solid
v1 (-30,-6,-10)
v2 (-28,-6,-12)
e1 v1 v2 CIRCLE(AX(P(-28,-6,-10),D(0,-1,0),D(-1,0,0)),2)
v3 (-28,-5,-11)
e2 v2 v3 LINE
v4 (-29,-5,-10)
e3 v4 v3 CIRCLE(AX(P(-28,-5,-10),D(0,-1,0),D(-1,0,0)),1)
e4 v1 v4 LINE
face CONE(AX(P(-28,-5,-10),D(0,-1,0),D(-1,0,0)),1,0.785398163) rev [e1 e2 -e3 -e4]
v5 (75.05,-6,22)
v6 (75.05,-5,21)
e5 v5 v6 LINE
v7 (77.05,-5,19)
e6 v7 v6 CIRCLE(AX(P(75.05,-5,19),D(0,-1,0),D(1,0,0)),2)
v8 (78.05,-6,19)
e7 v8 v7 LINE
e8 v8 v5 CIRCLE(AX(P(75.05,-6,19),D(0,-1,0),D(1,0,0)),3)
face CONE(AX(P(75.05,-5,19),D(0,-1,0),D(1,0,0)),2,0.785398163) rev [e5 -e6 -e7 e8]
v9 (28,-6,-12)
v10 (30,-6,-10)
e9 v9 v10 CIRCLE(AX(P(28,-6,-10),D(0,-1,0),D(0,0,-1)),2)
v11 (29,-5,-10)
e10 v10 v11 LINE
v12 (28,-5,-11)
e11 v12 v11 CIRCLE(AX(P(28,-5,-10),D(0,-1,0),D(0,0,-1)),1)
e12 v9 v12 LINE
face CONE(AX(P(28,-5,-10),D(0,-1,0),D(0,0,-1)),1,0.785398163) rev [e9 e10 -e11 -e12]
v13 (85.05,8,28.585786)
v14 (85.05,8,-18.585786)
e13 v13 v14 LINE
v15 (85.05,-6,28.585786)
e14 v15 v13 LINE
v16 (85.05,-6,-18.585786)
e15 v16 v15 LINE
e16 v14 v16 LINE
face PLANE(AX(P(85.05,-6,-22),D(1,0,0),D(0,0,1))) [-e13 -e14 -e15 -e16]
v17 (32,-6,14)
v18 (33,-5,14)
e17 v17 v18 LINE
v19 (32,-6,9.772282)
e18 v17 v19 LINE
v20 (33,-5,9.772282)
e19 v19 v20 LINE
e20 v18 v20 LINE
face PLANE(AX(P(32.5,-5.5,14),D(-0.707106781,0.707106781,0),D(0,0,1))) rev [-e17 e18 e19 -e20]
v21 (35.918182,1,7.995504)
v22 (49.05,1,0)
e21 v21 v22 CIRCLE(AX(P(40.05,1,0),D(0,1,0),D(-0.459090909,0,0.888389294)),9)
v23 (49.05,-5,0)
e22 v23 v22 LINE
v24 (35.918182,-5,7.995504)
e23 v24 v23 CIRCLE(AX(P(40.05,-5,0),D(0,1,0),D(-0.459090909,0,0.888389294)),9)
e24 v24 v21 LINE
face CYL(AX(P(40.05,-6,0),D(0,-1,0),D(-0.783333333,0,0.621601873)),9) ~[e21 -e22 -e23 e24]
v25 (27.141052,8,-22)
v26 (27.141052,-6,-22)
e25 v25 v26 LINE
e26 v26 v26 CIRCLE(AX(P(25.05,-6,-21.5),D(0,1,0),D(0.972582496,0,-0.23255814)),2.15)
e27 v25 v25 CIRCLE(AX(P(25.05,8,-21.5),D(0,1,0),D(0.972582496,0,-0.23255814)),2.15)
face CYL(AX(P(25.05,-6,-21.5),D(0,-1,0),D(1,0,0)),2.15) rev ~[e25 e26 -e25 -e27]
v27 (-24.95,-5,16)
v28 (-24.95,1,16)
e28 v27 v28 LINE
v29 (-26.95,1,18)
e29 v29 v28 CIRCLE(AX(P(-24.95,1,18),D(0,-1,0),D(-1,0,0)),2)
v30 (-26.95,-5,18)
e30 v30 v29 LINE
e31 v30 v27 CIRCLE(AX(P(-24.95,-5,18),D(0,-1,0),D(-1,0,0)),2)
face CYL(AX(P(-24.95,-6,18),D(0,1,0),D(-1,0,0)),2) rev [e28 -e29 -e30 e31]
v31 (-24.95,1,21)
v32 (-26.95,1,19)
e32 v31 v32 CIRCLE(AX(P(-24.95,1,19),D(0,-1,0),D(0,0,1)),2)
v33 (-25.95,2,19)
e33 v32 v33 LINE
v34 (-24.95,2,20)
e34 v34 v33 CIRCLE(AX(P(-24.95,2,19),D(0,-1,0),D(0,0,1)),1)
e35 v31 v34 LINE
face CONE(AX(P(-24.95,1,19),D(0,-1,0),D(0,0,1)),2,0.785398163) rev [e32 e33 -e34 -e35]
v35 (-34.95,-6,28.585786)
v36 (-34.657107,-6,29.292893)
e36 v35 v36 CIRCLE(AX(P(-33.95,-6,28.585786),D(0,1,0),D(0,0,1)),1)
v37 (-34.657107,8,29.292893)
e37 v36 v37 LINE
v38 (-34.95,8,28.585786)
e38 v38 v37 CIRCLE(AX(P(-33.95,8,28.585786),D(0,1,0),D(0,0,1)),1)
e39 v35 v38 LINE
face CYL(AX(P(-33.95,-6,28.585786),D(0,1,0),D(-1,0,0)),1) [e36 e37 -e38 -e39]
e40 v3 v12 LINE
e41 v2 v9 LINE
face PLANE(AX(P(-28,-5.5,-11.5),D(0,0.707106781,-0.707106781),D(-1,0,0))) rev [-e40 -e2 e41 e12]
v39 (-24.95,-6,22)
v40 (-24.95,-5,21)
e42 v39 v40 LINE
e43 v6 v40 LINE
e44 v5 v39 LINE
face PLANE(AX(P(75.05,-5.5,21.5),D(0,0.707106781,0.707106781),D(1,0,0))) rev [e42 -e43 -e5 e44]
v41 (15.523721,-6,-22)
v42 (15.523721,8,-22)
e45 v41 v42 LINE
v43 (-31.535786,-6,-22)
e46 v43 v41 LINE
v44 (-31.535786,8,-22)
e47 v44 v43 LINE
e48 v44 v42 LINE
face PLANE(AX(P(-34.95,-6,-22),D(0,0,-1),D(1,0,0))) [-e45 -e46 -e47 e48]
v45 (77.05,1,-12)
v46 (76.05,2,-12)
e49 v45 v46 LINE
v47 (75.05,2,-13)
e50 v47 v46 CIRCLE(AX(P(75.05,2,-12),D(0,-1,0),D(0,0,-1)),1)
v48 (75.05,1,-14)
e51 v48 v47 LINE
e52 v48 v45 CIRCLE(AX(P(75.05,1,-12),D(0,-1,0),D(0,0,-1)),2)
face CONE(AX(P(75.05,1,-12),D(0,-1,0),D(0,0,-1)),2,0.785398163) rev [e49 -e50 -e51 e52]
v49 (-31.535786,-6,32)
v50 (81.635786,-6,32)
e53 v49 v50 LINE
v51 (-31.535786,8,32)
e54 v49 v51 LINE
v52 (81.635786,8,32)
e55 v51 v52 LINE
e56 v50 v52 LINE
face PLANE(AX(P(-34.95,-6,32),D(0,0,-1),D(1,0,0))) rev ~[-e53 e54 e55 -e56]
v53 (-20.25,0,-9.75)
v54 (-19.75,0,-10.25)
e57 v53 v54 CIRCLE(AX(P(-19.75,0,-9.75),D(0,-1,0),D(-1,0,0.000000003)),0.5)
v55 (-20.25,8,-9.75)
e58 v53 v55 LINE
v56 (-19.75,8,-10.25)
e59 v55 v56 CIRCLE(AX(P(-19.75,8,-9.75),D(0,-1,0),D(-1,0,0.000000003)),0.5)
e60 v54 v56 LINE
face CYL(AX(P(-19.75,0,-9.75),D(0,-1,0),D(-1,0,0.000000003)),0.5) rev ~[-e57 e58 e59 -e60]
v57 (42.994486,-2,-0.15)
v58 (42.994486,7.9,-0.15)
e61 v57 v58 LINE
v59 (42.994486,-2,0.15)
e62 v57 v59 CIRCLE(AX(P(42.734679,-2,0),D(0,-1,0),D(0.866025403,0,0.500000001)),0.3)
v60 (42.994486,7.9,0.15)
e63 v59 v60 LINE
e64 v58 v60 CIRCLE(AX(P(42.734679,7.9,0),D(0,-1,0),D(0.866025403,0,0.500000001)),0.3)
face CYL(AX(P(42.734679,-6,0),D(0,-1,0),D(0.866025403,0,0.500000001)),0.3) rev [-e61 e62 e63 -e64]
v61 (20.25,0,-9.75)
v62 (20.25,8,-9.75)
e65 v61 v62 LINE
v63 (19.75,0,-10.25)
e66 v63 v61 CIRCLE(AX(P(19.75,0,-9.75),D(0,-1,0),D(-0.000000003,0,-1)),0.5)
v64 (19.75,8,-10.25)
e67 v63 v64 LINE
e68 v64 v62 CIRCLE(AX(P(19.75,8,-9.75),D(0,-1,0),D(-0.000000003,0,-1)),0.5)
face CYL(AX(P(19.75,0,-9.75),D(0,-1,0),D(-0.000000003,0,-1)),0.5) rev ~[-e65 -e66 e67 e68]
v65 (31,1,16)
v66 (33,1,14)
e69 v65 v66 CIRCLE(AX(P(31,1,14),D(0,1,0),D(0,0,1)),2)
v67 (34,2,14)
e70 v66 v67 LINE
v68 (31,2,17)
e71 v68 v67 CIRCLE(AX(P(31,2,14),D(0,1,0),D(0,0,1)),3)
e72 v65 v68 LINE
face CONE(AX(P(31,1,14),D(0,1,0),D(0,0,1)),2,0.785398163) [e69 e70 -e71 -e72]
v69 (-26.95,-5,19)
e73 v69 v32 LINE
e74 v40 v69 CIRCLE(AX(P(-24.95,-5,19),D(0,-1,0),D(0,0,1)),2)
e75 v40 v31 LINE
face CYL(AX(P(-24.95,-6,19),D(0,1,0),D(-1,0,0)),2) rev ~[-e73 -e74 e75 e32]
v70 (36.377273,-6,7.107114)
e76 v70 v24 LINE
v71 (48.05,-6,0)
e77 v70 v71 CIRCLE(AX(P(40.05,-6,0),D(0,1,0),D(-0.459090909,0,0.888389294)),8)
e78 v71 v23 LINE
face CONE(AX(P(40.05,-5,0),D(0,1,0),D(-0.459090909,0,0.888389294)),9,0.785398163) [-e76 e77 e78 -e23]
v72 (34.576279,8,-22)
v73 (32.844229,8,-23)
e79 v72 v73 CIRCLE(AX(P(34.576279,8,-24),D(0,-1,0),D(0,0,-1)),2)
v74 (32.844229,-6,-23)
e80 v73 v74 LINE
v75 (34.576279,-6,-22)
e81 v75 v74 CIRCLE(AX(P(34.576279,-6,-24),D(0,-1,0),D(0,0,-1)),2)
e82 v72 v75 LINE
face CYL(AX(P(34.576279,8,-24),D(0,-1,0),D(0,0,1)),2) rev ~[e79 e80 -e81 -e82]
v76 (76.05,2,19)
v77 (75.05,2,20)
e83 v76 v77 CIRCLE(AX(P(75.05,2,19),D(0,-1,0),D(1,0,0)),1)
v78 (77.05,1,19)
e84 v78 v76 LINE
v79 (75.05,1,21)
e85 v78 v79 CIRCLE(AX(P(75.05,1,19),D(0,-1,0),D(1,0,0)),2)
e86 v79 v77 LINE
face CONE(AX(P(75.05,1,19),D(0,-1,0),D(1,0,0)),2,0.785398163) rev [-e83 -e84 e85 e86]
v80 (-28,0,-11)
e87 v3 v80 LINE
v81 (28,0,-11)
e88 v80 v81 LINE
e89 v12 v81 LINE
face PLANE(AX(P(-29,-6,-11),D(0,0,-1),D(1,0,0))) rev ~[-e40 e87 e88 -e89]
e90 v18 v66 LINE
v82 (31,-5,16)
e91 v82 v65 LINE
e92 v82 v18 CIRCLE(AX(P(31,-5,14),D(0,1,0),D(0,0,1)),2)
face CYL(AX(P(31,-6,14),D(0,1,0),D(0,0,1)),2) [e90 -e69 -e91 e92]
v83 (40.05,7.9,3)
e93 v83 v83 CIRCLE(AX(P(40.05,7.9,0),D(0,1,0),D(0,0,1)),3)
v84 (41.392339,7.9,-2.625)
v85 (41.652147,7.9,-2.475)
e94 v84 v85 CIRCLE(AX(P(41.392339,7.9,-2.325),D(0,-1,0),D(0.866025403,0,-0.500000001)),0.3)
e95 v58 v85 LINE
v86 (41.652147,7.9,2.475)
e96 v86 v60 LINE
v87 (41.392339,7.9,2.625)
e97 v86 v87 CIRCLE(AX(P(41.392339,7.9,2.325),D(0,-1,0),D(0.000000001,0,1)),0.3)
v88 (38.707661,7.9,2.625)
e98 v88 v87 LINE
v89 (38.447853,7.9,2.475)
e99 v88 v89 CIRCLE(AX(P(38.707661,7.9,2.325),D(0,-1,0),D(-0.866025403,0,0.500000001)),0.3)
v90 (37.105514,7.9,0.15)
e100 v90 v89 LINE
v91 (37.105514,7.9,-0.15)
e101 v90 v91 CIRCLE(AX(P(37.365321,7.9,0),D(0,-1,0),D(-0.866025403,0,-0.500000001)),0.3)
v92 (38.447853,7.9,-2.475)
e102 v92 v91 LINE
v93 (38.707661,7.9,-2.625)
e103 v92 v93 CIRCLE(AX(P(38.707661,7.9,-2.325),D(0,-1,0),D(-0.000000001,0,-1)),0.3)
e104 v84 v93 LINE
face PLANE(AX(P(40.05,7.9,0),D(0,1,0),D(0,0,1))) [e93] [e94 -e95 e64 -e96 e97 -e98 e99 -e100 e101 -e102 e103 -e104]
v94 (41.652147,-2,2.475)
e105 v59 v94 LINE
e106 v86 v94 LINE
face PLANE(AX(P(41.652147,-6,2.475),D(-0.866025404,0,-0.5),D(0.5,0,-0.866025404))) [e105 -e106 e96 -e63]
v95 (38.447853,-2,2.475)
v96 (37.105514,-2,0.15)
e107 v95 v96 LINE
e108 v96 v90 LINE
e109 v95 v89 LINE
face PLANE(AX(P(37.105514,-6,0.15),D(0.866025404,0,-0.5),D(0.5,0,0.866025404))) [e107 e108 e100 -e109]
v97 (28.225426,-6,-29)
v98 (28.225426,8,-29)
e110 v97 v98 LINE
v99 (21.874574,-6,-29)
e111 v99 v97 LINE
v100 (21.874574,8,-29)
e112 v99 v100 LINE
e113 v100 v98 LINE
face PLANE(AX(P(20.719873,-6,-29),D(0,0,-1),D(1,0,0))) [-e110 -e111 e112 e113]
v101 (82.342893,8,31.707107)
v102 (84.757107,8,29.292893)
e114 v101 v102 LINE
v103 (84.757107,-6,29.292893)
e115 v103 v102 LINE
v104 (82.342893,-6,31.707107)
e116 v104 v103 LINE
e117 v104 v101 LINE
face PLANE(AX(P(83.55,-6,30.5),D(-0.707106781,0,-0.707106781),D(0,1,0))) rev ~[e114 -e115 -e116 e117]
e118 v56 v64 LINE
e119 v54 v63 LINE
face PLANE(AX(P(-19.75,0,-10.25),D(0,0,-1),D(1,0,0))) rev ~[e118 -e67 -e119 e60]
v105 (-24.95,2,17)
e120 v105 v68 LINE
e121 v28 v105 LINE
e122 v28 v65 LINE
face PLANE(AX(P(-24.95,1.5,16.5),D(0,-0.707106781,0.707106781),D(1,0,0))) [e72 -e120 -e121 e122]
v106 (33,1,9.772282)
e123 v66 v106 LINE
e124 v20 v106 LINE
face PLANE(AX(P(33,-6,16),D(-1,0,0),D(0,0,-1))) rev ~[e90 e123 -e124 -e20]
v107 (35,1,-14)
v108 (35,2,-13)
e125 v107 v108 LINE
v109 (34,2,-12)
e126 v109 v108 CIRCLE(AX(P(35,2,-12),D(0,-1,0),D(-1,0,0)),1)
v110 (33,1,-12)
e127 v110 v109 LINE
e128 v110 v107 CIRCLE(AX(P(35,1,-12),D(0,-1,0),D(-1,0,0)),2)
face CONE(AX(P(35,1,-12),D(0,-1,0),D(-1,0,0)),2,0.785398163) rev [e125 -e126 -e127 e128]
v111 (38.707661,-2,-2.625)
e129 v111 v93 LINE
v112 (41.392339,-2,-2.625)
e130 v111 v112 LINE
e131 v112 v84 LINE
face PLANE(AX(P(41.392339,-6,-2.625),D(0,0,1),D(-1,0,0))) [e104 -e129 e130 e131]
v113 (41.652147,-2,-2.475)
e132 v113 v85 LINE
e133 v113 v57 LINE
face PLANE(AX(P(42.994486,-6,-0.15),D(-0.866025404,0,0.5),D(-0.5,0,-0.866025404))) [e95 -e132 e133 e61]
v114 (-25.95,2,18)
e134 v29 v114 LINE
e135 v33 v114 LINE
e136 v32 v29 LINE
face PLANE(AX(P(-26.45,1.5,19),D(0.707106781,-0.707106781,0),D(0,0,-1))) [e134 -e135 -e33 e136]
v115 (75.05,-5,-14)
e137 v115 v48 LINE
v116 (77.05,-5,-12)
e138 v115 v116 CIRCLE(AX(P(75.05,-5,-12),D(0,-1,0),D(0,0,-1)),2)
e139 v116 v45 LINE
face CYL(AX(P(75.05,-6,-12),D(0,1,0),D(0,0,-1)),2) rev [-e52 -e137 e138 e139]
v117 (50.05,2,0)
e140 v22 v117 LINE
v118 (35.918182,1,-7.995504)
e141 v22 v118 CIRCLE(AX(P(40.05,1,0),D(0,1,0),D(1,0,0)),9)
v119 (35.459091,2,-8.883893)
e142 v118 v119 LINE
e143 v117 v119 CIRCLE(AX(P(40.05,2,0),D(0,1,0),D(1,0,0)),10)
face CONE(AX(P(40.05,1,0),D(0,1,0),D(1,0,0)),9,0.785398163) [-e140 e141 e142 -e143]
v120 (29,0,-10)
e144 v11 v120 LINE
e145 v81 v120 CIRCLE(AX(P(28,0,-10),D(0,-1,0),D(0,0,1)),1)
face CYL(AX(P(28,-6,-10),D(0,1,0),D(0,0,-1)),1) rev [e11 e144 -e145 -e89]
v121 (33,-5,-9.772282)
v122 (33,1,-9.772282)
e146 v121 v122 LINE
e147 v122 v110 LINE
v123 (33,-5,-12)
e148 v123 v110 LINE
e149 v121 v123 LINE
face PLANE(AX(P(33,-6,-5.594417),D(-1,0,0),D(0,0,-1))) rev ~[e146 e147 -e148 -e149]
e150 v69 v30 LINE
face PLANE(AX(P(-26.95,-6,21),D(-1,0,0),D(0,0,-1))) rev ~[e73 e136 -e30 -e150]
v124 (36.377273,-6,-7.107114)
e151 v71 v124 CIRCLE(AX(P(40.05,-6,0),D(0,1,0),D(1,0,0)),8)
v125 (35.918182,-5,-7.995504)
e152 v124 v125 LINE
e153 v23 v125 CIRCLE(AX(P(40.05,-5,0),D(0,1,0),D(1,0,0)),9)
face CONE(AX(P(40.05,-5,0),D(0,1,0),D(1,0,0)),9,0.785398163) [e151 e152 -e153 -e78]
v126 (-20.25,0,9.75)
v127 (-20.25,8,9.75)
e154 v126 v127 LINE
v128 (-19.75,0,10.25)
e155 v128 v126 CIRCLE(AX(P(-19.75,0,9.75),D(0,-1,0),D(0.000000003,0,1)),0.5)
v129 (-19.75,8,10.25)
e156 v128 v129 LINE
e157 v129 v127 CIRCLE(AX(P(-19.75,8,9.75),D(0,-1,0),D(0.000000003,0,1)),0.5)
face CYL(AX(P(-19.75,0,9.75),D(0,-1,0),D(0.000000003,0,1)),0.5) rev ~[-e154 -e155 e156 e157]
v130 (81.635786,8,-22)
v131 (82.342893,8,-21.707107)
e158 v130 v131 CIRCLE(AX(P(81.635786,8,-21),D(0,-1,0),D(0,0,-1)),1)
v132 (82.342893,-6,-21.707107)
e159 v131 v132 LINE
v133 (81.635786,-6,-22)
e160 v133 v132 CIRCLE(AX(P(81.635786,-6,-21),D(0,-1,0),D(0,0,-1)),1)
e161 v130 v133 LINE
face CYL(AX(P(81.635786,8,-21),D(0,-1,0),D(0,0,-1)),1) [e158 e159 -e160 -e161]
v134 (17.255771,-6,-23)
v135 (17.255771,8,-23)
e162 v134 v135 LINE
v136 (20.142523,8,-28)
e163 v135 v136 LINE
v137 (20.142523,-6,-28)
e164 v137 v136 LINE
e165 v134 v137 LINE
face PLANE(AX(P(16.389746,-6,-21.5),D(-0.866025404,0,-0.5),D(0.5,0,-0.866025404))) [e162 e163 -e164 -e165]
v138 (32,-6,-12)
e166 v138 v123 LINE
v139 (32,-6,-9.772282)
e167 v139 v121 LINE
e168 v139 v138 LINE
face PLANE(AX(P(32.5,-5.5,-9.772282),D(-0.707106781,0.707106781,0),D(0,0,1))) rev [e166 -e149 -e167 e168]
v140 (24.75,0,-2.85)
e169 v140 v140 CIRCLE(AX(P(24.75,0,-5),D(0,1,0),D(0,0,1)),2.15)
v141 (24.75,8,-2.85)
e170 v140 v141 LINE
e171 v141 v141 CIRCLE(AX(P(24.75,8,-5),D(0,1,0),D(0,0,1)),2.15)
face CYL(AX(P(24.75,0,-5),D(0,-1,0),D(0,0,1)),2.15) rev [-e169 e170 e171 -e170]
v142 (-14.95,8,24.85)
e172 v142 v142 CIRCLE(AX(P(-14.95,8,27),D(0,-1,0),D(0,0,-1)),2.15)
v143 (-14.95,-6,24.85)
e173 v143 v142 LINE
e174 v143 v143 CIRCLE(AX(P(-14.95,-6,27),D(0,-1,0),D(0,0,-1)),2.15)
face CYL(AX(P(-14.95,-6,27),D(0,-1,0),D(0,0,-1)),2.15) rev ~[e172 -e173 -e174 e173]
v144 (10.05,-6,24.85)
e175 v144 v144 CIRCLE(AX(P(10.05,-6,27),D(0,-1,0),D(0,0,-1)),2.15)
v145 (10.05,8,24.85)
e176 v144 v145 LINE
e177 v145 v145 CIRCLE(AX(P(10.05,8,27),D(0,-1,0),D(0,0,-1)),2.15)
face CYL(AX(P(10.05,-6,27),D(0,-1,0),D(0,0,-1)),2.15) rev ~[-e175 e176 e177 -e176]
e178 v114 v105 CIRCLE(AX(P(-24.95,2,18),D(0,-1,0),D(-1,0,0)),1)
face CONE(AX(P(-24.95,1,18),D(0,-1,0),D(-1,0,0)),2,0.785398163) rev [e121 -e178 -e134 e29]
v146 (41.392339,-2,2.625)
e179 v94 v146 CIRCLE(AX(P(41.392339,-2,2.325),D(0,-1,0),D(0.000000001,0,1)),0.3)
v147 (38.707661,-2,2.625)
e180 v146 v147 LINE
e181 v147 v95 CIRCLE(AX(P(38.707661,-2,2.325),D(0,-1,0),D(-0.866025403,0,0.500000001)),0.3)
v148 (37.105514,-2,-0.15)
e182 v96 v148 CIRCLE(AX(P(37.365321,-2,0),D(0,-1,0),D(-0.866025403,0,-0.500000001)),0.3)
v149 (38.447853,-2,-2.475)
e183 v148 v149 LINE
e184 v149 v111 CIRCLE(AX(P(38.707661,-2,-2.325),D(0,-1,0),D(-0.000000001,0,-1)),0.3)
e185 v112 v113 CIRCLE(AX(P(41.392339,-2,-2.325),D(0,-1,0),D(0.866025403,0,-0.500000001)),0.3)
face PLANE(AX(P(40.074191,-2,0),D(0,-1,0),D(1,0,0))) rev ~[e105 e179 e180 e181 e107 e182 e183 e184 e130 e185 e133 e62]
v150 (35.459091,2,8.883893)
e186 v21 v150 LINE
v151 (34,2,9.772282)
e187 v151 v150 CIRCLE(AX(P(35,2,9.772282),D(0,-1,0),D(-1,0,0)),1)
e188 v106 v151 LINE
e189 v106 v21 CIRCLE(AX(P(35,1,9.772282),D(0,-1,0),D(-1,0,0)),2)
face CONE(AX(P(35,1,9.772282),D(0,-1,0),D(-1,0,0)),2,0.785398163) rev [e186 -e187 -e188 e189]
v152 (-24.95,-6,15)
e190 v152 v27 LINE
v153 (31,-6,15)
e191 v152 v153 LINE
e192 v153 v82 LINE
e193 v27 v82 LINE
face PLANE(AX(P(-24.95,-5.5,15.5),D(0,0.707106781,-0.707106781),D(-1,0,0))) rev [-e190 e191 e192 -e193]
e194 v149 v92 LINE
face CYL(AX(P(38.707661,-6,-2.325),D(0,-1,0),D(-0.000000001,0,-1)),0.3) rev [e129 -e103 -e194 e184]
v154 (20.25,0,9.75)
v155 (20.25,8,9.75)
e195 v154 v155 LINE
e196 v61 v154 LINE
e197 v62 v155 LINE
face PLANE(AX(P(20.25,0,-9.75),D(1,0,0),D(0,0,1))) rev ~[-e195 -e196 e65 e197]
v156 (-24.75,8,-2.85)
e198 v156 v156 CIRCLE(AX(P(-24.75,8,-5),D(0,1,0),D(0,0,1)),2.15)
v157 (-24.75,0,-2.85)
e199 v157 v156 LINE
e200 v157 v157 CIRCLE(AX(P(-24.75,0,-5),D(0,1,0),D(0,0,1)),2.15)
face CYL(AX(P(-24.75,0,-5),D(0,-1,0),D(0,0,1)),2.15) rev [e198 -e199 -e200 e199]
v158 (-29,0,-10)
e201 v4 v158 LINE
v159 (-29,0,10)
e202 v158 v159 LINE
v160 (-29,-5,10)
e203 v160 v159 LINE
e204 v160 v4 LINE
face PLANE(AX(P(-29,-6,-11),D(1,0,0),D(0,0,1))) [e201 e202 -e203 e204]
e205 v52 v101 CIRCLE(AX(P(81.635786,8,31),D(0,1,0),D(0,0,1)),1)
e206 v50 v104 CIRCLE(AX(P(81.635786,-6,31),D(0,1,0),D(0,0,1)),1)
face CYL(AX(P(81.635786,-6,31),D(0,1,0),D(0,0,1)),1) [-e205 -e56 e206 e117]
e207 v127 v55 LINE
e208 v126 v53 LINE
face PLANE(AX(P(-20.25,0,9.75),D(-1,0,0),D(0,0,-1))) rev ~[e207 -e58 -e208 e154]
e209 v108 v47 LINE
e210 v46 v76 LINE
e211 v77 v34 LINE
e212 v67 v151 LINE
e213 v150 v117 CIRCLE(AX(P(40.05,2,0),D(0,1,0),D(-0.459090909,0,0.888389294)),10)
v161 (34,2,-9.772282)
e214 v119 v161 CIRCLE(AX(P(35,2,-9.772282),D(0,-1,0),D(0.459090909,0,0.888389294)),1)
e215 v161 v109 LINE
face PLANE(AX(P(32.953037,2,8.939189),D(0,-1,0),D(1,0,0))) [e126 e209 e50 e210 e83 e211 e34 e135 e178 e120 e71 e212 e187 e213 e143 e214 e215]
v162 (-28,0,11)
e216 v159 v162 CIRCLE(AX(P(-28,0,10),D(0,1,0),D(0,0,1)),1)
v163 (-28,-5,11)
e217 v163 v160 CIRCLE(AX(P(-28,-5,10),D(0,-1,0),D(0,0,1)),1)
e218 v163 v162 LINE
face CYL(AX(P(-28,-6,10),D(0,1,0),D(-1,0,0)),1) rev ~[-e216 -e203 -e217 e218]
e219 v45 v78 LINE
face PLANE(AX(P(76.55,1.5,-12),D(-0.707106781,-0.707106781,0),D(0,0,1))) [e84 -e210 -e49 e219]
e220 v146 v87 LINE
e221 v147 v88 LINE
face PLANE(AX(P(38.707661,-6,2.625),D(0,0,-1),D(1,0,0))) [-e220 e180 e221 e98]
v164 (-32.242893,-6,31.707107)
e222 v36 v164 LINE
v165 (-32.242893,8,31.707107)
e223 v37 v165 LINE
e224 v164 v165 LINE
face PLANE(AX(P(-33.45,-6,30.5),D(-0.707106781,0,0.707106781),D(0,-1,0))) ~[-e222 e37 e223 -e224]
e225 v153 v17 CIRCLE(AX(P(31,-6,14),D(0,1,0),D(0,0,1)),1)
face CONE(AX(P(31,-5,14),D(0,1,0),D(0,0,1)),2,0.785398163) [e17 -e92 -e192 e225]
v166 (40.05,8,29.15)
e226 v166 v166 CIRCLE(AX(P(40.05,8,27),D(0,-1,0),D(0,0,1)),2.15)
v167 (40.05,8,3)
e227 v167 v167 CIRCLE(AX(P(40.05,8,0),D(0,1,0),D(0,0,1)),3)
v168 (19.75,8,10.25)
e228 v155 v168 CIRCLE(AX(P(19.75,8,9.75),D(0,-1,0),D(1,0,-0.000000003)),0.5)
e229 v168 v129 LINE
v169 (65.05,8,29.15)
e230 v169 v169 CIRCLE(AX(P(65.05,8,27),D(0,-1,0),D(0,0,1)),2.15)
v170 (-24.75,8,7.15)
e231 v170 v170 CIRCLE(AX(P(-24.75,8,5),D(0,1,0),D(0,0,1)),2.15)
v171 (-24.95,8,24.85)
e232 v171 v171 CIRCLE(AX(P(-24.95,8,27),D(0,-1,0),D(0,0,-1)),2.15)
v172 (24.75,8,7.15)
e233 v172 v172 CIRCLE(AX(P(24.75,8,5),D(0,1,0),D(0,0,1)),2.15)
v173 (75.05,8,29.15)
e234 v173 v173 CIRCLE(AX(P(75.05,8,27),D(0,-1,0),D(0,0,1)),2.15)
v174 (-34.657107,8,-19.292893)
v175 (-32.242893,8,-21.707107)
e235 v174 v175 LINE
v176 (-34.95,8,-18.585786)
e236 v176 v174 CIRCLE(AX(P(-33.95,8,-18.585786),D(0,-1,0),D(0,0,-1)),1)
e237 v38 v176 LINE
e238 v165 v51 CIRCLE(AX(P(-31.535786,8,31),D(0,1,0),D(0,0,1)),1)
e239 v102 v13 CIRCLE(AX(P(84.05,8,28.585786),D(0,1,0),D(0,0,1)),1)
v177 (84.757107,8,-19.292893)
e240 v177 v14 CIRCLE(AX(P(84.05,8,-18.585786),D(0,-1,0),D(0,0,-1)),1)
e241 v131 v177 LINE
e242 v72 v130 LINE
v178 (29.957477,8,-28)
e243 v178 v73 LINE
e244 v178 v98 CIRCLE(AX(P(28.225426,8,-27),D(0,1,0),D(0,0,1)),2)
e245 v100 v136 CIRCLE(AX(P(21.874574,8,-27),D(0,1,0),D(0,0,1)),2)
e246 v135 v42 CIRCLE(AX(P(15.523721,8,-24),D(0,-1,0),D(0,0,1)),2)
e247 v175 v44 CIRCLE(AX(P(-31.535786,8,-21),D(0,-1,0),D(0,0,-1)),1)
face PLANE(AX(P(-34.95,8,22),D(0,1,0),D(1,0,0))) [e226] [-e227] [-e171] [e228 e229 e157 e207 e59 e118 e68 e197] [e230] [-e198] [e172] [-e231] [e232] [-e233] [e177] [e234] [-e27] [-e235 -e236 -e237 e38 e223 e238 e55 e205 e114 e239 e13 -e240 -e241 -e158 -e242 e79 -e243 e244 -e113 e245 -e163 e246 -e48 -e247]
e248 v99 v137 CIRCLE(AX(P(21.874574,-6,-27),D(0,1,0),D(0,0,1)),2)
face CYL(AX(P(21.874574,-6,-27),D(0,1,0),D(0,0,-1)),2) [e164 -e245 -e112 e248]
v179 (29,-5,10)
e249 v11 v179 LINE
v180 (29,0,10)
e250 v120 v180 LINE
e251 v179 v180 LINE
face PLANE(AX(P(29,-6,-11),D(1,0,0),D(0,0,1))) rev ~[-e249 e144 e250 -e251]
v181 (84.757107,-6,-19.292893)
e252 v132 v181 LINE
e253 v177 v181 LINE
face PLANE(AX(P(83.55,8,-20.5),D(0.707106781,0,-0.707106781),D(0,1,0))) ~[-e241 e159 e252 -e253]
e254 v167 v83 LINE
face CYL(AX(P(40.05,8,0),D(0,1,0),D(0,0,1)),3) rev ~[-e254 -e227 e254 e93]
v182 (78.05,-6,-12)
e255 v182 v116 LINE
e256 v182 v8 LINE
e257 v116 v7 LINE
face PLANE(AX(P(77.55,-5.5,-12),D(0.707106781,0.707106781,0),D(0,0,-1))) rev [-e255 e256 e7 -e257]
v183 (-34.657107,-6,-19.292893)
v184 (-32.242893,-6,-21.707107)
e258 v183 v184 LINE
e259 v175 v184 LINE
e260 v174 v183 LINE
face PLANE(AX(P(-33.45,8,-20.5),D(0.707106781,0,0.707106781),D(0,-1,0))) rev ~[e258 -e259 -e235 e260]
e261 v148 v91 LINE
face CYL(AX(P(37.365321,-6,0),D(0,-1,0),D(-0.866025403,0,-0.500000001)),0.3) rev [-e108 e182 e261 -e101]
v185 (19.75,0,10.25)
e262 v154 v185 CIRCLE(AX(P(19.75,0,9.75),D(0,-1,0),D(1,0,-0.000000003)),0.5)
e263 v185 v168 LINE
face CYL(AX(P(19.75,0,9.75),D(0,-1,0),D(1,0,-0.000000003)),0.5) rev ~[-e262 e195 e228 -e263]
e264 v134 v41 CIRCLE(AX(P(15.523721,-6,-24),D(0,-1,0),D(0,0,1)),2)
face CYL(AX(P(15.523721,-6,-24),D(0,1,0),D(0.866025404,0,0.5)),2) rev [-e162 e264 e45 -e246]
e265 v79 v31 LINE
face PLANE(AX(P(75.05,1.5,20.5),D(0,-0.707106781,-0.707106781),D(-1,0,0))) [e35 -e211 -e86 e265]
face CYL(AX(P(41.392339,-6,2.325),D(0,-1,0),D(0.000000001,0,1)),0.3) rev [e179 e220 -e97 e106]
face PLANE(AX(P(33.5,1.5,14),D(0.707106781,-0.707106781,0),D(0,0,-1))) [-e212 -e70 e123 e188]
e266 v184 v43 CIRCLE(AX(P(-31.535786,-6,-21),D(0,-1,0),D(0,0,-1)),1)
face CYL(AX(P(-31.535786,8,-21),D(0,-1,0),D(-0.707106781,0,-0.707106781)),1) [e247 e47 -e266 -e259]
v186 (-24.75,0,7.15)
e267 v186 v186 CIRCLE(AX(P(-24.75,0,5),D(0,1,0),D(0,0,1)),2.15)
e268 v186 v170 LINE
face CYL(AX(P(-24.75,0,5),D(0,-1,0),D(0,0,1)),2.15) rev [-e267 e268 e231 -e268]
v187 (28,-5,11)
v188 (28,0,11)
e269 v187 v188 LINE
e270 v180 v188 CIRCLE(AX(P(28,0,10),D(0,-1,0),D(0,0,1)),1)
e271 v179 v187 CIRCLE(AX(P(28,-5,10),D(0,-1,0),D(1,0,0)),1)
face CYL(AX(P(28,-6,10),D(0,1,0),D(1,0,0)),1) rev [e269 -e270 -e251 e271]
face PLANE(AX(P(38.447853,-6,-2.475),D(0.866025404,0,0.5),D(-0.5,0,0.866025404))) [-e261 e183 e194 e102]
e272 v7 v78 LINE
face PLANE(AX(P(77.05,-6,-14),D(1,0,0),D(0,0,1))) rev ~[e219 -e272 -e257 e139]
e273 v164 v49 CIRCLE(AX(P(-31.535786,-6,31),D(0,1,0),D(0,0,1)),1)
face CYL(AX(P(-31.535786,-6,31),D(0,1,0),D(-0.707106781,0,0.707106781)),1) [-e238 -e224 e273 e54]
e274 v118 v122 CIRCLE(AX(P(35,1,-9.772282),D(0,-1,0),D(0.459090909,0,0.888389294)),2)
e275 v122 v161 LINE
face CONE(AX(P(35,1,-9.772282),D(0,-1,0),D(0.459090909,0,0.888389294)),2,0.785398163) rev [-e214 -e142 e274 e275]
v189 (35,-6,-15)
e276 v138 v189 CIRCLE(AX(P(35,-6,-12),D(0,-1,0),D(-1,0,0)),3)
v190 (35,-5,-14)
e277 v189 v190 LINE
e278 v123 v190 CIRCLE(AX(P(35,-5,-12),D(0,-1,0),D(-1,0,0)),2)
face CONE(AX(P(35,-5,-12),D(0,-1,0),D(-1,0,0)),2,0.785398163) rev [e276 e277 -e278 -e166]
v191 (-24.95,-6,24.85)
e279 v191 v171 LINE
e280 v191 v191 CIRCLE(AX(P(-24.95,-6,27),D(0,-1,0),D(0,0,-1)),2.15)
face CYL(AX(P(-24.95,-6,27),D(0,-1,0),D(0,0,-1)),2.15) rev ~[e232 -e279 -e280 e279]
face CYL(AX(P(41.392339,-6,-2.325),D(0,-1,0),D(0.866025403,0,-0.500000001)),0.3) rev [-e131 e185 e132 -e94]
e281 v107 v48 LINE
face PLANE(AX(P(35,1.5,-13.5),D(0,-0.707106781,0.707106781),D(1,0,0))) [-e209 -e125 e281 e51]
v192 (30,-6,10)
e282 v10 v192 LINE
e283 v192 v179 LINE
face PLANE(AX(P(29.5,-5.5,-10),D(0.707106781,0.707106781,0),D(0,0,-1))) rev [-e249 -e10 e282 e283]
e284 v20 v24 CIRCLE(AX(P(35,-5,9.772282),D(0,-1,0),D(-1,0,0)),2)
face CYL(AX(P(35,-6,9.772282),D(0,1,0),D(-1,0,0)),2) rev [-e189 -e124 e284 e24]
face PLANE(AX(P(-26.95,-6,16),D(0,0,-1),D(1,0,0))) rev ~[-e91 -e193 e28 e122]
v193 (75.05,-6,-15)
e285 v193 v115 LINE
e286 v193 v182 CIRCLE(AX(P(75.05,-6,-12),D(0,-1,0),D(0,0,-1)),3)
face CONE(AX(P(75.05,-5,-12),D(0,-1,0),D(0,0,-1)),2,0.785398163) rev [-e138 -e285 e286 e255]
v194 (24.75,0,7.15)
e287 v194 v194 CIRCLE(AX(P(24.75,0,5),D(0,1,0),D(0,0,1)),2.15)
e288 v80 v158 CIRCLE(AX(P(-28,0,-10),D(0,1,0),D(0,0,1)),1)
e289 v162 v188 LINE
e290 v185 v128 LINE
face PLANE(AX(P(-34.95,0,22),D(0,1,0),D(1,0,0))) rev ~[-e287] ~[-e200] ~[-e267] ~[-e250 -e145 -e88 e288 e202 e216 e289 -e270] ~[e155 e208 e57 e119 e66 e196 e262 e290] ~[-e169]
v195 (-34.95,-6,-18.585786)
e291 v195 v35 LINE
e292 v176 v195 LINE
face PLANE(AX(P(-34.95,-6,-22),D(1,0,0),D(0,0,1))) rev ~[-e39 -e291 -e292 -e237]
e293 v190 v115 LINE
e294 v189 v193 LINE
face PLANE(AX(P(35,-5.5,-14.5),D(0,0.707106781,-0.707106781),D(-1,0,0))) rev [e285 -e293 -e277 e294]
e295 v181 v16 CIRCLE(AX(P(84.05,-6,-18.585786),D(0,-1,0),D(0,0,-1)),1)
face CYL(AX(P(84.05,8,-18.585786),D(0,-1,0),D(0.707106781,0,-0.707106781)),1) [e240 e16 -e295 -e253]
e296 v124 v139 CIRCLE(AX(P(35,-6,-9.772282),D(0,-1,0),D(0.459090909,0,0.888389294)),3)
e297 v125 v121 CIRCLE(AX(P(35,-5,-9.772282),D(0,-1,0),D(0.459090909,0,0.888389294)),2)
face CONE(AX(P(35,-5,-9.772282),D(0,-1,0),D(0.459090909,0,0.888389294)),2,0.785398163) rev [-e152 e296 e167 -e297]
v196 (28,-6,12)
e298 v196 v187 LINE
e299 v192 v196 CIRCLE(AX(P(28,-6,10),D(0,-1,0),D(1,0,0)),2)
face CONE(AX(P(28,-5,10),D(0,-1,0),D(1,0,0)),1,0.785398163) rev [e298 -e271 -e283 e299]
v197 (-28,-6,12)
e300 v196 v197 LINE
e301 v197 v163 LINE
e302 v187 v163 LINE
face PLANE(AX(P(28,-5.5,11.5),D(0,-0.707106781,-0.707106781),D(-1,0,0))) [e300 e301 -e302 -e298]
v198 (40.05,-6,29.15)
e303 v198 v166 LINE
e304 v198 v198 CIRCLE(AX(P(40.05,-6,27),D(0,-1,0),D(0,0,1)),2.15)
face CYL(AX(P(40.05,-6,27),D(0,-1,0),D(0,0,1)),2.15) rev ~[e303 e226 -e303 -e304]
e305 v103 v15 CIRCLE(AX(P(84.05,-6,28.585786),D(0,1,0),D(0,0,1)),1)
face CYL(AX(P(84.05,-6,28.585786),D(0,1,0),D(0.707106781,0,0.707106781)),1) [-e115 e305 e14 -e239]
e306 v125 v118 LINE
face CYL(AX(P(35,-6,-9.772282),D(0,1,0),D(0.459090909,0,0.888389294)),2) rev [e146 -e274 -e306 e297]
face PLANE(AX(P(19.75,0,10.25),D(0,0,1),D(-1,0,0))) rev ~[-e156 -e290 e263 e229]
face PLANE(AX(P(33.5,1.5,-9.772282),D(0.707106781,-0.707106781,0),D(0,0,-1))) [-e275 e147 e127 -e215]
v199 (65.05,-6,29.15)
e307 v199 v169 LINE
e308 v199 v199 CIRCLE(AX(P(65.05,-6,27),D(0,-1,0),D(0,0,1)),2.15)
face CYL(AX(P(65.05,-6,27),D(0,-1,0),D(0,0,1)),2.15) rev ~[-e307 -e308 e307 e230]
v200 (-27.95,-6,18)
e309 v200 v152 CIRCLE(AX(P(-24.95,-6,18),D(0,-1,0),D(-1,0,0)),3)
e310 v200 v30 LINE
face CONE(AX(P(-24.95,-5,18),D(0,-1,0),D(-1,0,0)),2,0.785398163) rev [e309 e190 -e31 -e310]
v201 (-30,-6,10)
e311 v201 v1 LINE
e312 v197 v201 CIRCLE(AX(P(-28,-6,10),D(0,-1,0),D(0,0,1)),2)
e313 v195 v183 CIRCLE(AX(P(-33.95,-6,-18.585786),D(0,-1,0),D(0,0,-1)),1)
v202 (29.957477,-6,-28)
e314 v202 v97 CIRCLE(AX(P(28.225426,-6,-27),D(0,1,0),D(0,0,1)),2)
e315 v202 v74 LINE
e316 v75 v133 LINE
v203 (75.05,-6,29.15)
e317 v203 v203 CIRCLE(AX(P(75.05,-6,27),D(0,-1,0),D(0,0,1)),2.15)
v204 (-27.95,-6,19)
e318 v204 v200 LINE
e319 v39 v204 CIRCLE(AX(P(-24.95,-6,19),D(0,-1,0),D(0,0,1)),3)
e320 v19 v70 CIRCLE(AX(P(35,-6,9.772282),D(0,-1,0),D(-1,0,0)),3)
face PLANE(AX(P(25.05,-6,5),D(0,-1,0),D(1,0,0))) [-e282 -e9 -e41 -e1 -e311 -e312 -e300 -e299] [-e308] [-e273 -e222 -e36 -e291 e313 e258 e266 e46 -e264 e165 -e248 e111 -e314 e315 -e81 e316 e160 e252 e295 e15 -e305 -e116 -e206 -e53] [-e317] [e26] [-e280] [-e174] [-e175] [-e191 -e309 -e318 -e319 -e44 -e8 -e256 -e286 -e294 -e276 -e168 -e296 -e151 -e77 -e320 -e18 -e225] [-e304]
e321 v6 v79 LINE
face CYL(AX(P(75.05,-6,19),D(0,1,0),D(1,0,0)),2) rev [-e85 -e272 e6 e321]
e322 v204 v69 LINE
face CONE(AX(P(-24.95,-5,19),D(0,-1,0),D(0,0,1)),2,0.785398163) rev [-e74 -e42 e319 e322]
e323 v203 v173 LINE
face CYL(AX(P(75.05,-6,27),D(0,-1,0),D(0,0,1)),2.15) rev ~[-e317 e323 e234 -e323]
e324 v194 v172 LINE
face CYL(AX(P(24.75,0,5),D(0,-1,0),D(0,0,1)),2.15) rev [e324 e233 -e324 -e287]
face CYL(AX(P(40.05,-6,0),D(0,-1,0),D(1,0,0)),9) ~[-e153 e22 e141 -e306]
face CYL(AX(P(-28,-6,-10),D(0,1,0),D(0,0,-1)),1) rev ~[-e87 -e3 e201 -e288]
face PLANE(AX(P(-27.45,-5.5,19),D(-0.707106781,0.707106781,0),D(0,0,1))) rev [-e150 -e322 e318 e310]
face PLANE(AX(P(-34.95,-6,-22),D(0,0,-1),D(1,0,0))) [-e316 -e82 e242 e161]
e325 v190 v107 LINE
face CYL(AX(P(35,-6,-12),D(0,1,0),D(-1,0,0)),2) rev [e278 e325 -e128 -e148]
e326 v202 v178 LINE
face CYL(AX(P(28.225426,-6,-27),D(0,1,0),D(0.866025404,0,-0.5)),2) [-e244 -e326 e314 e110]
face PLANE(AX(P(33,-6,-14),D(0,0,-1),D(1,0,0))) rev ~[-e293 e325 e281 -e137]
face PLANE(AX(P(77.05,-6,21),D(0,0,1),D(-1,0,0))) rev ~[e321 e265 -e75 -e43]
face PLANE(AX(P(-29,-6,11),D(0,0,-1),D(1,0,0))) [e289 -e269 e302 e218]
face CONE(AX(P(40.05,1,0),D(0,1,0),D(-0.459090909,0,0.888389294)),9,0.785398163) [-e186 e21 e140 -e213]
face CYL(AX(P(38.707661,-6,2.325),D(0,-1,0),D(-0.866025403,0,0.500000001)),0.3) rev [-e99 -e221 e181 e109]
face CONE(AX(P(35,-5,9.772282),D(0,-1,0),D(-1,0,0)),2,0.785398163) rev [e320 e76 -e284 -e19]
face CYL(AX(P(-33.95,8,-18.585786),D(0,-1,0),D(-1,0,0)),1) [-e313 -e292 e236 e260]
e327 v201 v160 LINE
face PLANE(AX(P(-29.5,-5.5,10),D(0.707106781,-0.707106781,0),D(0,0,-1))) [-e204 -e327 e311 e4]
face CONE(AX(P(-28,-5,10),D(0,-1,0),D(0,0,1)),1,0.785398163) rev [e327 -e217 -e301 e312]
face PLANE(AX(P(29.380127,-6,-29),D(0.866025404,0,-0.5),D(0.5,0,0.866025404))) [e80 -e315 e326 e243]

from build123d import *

# Parameters (mm, degrees)
SKETCH_1_W          = 120
SKETCH_1_H          = 44
SKETCH_1_R          = 2.15
EXTRUDE_1_DEPTH     = 8
SKETCH_2_R          = 3
CUT_EXTRUDE_1_DEPTH = 0.1
MOVE_FACE_1_BY      = 10
EXTRUDE_START       = 6
SKETCH_3_W          = 120
SKETCH_3_H          = 54
SKETCH_3_W_2        = 58
SKETCH_3_H_2        = 22
EXTRUDE_2_DEPTH     = 6
SKETCH_4_R          = 2.15
CUT_EXTRUDE_2_DEPTH = 92.942930669
CUT_EXTRUDE_3_DEPTH = 8
FILLET_1_R          = 2
FILLET_2_R          = 2
FILLET_4_R          = 1
CHAMFER_1_SIZE      = 3
FILLET_5_R          = 1
SKETCH_6_R          = 2.15
EXTRUDE_3_DEPTH     = 14
SKETCH_6_3_R        = 2.15
CUT_EXTRUDE_6_DEPTH = 92.942930669
FILLET_6_R          = 2
CHAMFER_2_SIZE      = 1
SKETCH1_R           = 5.281314446
BOSS_EXTRUDE1_DEPTH = 4
SKETCH_7_R          = 2.15
CUT_EXTRUDE_7_DEPTH = 92.942930669


with BuildPart() as part:
    # 草图1 → 凸台-拉伸1 (new body)
    with BuildSketch(Plane(origin=(0, 0, 0), x_dir=(1, 0, 0), z_dir=(0, 1, 0))):
        with Locations((25.05, 0)):
            Rectangle(SKETCH_1_W, SKETCH_1_H)
        with Locations(Location((-24.75, 5, 0), (0, 0, 270))):
            Circle(SKETCH_1_R, mode=Mode.SUBTRACT)
        with Locations(Location((-24.75, -5, 0), (0, 0, 270))):
            Circle(SKETCH_1_R, mode=Mode.SUBTRACT)
        with Locations(Location((24.75, -5, 0), (0, 0, 270))):
            Circle(SKETCH_1_R, mode=Mode.SUBTRACT)
        with Locations(Location((24.75, 5, 0), (0, 0, 270))):
            Circle(SKETCH_1_R, mode=Mode.SUBTRACT)
        with BuildLine():
            Line((19.75, -10.25), (-19.75, -10.25))
            ThreePointArc((-19.75, -10.25), (-20.103553391, -10.103553391), (-20.25, -9.75))
            Line((-20.25, -9.75), (-20.25, 9.75))
            ThreePointArc((-20.25, 9.75), (-20.103553391, 10.103553391), (-19.75, 10.25))
            Line((-19.75, 10.25), (19.75, 10.25))
            ThreePointArc((19.75, 10.25), (20.103553391, 10.103553391), (20.25, 9.75))
            Line((20.25, 9.75), (20.25, -9.75))
            ThreePointArc((20.25, -9.75), (20.103553391, -10.103553391), (19.75, -10.25))
        make_face(mode=Mode.SUBTRACT)
        with BuildLine():
            Line((42.994486373, 0.15), (41.652146997, 2.475))
            ThreePointArc((41.652146997, 2.475), (41.542339376, 2.584807621), (41.392339376, 2.625))
            Line((41.392339376, 2.625), (38.707660624, 2.625))
            ThreePointArc((38.707660624, 2.625), (38.557660624, 2.584807621), (38.447853003, 2.475))
            Line((38.447853003, 2.475), (37.105513627, 0.15))
            ThreePointArc((37.105513627, 0.15), (37.065321248, 0), (37.105513627, -0.15))
            Line((37.105513627, -0.15), (38.447853003, -2.475))
            ThreePointArc((38.447853003, -2.475), (38.557660624, -2.584807621), (38.707660624, -2.625))
            Line((38.707660624, -2.625), (41.392339376, -2.625))
            ThreePointArc((41.392339376, -2.625), (41.542339376, -2.584807621), (41.652146997, -2.475))
            Line((41.652146997, -2.475), (42.994486373, -0.15))
            ThreePointArc((42.994486373, -0.15), (43.034678752, 0), (42.994486373, 0.15))
        make_face(mode=Mode.SUBTRACT)
    extrude(amount=EXTRUDE_1_DEPTH)

    # 草图2 → 切除-拉伸1 (cut)
    with BuildSketch(Plane(origin=(0, 8, 0), x_dir=(1, 0, 0), z_dir=(0, 1, 0))):
        with Locations(Location((40.05, 0, 0), (0, 0, 270))):
            Circle(SKETCH_2_R)
    extrude(amount=-CUT_EXTRUDE_1_DEPTH, mode=Mode.SUBTRACT)

    # Move Face 1: a face moved outward by 10.0
    extrude(part.faces().sort_by_distance((25.05, 4, 22))[0], amount=MOVE_FACE_1_BY, dir=(0, 0, 1))

    # 草图3 → 凸台-拉伸2 (add)
    with BuildSketch(Plane.XZ.offset(EXTRUDE_START)):
        with Locations((25.05, 5)):
            Rectangle(SKETCH_3_W, SKETCH_3_H)
        Rectangle(SKETCH_3_W_2, SKETCH_3_H_2, mode=Mode.SUBTRACT)
        with BuildLine():
            Line((41.652146997, 2.475), (42.994486373, 0.15))
            ThreePointArc((42.994486373, 0.15), (43.034678752, 0), (42.994486373, -0.15))
            Line((42.994486373, -0.15), (41.652146997, -2.475))
            ThreePointArc((41.652146997, -2.475), (41.542339376, -2.584807621), (41.392339376, -2.625))
            Line((41.392339376, -2.625), (38.707660624, -2.625))
            ThreePointArc((38.707660624, -2.625), (38.557660624, -2.584807621), (38.447853003, -2.475))
            Line((38.447853003, -2.475), (37.105513627, -0.15))
            ThreePointArc((37.105513627, -0.15), (37.065321248, 0), (37.105513627, 0.15))
            Line((37.105513627, 0.15), (38.447853003, 2.475))
            ThreePointArc((38.447853003, 2.475), (38.557660624, 2.584807621), (38.707660624, 2.625))
            Line((38.707660624, 2.625), (41.392339376, 2.625))
            ThreePointArc((41.392339376, 2.625), (41.542339376, 2.584807621), (41.652146997, 2.475))
        make_face(mode=Mode.SUBTRACT)
    extrude(amount=-EXTRUDE_2_DEPTH)

    # 草图4 → 切除-拉伸2 (cut, through all)
    with BuildSketch(Plane.XZ.offset(6)):
        with Locations(Location((-24.95, 27, 0), (0, 0, 270))):
            Circle(SKETCH_4_R)
        with Locations(Location((-14.95, 27, 0), (0, 0, 270))):
            Circle(SKETCH_4_R)
        with Locations(Location((65.05, 27, 0), (0, 0, 90))):
            Circle(SKETCH_4_R)
        with Locations(Location((75.05, 27, 0), (0, 0, 90))):
            Circle(SKETCH_4_R)
    extrude(amount=-CUT_EXTRUDE_2_DEPTH, mode=Mode.SUBTRACT)

    # 草图5 → 切除-拉伸3 (cut)
    with BuildSketch(Plane.XZ.offset(6)):
        with BuildLine():
            Line((59.05, 21), (-8.95, 21))
            Line((-8.95, 21), (-26.95, 21))
            Line((-26.95, 21), (-26.95, 16))
            Line((-26.95, 16), (33, 16))
            Line((33, 16), (33, 5.59441686))
            ThreePointArc((33, 5.59441686), (43.012262649, 8.498529285), (49.05, 0))
            ThreePointArc((49.05, 0), (43.012262649, -8.498529285), (33, -5.59441686))
            Line((33, -5.59441686), (33, -14))
            Line((33, -14), (77.05, -14))
            Line((77.05, -14), (77.05, 21))
            Line((77.05, 21), (59.05, 21))
        make_face()
    extrude(amount=-CUT_EXTRUDE_3_DEPTH, mode=Mode.SUBTRACT)

    # 圆角1
    fillet_1_edges = [part.edges().sort_by_distance(p)[0] for p in [
        (33, -2, 5.59441686),
        (33, -2, 16),
        (-26.95, -2, 16),
        (-26.95, -2, 21),
        (77.05, -2, 21),
        (77.05, -2, -14),
        (33, -2, -14),
    ]]
    fillet(fillet_1_edges, radius=FILLET_1_R)

    # 圆角2
    fillet_2_edges = [part.edges().sort_by_distance(p)[0] for p in [
        (33, -2, -5.59441686),
    ]]
    fillet(fillet_2_edges, radius=FILLET_2_R)

    # 圆角4
    fillet_4_edges = [part.edges().sort_by_distance(p)[0] for p in [
        (-29, -3, -11),
        (29, -3, -11),
        (29, -3, 11),
        (-29, -3, 11),
    ]]
    fillet(fillet_4_edges, radius=FILLET_4_R)

    # 倒角1
    chamfer_1_edges = [part.edges().sort_by_distance(p)[0] for p in [
        (-34.95, 1, -22),
        (85.05, 1, -22),
        (85.05, 1, 32),
        (-34.95, 1, 32),
    ]]
    chamfer(chamfer_1_edges, length=CHAMFER_1_SIZE)

    # 圆角5
    fillet_5_edges = [part.edges().sort_by_distance(p)[0] for p in [
        (85.05, 1, -19),
        (85.05, 1, 29),
        (-31.95, 1, 32),
        (82.05, 1, 32),
        (-31.95, 1, -22),
        (82.05, 1, -22),
        (-34.95, 1, -19),
        (-34.95, 1, 29),
    ]]
    fillet(fillet_5_edges, radius=FILLET_5_R)

    # 草图6 → 凸台-拉伸3 (add)
    with BuildSketch(Plane.XZ.offset(6)):
        Polygon((33.710254038, -21.5), (29.380127019, -14), (20.719872981, -14), (16.389745962, -21.5), (20.719872981, -29), (29.380127019, -29), align=None)
        with Locations((25.05, -21.5)):
            Circle(SKETCH_6_R, mode=Mode.SUBTRACT)
    extrude(amount=-EXTRUDE_3_DEPTH)

    # 草图6<3> → 切除-拉伸6 (cut, through all)
    with BuildSketch(Plane.XZ.offset(6)):
        with Locations(Location((25.05, -21.5, 0), (0, 0, 270))):
            Circle(SKETCH_6_3_R)
    extrude(amount=-CUT_EXTRUDE_6_DEPTH, mode=Mode.SUBTRACT)

    # 圆角6
    fillet_6_edges = [part.edges().sort_by_distance(p)[0] for p in [
        (16.678421097, 1, -22),
        (33.421578903, 1, -22),
        (20.719872981, 1, -29),
        (29.380127019, 1, -29),
    ]]
    fillet(fillet_6_edges, radius=FILLET_6_R)

    # 倒角2
    chamfer_2_edges = [part.edges().sort_by_distance(p)[0] for p in [
        (33, -6, 11.886141115),
        (33, 2, 11.886141115),
        (33, 2, -10.886141115),
        (55.025, 2, -14),
        (77.05, 2, 3.5),
        (25.05, 2, 21),
        (-26.95, 2, 18.5),
        (3.025, 2, 16),
        (33.585786438, 2, -13.414213562),
        (-26.364213562, 2, 20.414213562),
        (76.464213562, 2, -13.414213562),
        (76.464213562, 2, 20.414213562),
        (-26.364213562, 2, 16.585786438),
        (33.95989511, 2, 8.06401357),
        (3.025, -6, 16),
        (-26.95, -6, 18.5),
        (25.05, -6, 21),
        (77.05, -6, 3.5),
        (55.025, -6, -14),
        (33, -6, -10.886141115),
        (32.414213562, -6, 15.414213562),
        (33.95989511, -6, 8.06401357),
        (-26.364213562, -6, 16.585786438),
        (76.464213562, -6, 20.414213562),
        (76.464213562, -6, -13.414213562),
        (-26.364213562, -6, 20.414213562),
        (33.585786438, -6, -13.414213562),
        (32.414213562, 2, 15.414213562),
        (49.05, 2, 0),
        (49.05, -6, 0),
        (33.95989511, 2, -8.06401357),
        (33.95989511, -6, -8.06401357),
        (0, -6, -11),
        (29, -6, 0),
        (0, -6, 11),
        (-29, -6, 0),
        (28.707106781, -6, -10.707106781),
        (28.707106781, -6, 10.707106781),
        (-28.707106781, -6, -10.707106781),
        (-28.707106781, -6, 10.707106781),
    ]]
    chamfer(chamfer_2_edges, length=CHAMFER_2_SIZE)

    # Sketch1 → Boss-Extrude1 (add)
    with BuildSketch(Plane.XZ.offset(6)):
        with Locations((40.074190607, 0)):
            Circle(SKETCH1_R)
    extrude(amount=-BOSS_EXTRUDE1_DEPTH)

    # 草图7 → 切除-拉伸7 (cut, through all)
    with BuildSketch(Plane.XZ.offset(6)):
        with Locations(Location((10.05, 27, 0), (0, 0, 270))):
            Circle(SKETCH_7_R)
        with Locations(Location((40.05, 27, 0), (0, 0, 90))):
            Circle(SKETCH_7_R)
    extrude(amount=-CUT_EXTRUDE_7_DEPTH, mode=Mode.SUBTRACT)


solid = part.part
